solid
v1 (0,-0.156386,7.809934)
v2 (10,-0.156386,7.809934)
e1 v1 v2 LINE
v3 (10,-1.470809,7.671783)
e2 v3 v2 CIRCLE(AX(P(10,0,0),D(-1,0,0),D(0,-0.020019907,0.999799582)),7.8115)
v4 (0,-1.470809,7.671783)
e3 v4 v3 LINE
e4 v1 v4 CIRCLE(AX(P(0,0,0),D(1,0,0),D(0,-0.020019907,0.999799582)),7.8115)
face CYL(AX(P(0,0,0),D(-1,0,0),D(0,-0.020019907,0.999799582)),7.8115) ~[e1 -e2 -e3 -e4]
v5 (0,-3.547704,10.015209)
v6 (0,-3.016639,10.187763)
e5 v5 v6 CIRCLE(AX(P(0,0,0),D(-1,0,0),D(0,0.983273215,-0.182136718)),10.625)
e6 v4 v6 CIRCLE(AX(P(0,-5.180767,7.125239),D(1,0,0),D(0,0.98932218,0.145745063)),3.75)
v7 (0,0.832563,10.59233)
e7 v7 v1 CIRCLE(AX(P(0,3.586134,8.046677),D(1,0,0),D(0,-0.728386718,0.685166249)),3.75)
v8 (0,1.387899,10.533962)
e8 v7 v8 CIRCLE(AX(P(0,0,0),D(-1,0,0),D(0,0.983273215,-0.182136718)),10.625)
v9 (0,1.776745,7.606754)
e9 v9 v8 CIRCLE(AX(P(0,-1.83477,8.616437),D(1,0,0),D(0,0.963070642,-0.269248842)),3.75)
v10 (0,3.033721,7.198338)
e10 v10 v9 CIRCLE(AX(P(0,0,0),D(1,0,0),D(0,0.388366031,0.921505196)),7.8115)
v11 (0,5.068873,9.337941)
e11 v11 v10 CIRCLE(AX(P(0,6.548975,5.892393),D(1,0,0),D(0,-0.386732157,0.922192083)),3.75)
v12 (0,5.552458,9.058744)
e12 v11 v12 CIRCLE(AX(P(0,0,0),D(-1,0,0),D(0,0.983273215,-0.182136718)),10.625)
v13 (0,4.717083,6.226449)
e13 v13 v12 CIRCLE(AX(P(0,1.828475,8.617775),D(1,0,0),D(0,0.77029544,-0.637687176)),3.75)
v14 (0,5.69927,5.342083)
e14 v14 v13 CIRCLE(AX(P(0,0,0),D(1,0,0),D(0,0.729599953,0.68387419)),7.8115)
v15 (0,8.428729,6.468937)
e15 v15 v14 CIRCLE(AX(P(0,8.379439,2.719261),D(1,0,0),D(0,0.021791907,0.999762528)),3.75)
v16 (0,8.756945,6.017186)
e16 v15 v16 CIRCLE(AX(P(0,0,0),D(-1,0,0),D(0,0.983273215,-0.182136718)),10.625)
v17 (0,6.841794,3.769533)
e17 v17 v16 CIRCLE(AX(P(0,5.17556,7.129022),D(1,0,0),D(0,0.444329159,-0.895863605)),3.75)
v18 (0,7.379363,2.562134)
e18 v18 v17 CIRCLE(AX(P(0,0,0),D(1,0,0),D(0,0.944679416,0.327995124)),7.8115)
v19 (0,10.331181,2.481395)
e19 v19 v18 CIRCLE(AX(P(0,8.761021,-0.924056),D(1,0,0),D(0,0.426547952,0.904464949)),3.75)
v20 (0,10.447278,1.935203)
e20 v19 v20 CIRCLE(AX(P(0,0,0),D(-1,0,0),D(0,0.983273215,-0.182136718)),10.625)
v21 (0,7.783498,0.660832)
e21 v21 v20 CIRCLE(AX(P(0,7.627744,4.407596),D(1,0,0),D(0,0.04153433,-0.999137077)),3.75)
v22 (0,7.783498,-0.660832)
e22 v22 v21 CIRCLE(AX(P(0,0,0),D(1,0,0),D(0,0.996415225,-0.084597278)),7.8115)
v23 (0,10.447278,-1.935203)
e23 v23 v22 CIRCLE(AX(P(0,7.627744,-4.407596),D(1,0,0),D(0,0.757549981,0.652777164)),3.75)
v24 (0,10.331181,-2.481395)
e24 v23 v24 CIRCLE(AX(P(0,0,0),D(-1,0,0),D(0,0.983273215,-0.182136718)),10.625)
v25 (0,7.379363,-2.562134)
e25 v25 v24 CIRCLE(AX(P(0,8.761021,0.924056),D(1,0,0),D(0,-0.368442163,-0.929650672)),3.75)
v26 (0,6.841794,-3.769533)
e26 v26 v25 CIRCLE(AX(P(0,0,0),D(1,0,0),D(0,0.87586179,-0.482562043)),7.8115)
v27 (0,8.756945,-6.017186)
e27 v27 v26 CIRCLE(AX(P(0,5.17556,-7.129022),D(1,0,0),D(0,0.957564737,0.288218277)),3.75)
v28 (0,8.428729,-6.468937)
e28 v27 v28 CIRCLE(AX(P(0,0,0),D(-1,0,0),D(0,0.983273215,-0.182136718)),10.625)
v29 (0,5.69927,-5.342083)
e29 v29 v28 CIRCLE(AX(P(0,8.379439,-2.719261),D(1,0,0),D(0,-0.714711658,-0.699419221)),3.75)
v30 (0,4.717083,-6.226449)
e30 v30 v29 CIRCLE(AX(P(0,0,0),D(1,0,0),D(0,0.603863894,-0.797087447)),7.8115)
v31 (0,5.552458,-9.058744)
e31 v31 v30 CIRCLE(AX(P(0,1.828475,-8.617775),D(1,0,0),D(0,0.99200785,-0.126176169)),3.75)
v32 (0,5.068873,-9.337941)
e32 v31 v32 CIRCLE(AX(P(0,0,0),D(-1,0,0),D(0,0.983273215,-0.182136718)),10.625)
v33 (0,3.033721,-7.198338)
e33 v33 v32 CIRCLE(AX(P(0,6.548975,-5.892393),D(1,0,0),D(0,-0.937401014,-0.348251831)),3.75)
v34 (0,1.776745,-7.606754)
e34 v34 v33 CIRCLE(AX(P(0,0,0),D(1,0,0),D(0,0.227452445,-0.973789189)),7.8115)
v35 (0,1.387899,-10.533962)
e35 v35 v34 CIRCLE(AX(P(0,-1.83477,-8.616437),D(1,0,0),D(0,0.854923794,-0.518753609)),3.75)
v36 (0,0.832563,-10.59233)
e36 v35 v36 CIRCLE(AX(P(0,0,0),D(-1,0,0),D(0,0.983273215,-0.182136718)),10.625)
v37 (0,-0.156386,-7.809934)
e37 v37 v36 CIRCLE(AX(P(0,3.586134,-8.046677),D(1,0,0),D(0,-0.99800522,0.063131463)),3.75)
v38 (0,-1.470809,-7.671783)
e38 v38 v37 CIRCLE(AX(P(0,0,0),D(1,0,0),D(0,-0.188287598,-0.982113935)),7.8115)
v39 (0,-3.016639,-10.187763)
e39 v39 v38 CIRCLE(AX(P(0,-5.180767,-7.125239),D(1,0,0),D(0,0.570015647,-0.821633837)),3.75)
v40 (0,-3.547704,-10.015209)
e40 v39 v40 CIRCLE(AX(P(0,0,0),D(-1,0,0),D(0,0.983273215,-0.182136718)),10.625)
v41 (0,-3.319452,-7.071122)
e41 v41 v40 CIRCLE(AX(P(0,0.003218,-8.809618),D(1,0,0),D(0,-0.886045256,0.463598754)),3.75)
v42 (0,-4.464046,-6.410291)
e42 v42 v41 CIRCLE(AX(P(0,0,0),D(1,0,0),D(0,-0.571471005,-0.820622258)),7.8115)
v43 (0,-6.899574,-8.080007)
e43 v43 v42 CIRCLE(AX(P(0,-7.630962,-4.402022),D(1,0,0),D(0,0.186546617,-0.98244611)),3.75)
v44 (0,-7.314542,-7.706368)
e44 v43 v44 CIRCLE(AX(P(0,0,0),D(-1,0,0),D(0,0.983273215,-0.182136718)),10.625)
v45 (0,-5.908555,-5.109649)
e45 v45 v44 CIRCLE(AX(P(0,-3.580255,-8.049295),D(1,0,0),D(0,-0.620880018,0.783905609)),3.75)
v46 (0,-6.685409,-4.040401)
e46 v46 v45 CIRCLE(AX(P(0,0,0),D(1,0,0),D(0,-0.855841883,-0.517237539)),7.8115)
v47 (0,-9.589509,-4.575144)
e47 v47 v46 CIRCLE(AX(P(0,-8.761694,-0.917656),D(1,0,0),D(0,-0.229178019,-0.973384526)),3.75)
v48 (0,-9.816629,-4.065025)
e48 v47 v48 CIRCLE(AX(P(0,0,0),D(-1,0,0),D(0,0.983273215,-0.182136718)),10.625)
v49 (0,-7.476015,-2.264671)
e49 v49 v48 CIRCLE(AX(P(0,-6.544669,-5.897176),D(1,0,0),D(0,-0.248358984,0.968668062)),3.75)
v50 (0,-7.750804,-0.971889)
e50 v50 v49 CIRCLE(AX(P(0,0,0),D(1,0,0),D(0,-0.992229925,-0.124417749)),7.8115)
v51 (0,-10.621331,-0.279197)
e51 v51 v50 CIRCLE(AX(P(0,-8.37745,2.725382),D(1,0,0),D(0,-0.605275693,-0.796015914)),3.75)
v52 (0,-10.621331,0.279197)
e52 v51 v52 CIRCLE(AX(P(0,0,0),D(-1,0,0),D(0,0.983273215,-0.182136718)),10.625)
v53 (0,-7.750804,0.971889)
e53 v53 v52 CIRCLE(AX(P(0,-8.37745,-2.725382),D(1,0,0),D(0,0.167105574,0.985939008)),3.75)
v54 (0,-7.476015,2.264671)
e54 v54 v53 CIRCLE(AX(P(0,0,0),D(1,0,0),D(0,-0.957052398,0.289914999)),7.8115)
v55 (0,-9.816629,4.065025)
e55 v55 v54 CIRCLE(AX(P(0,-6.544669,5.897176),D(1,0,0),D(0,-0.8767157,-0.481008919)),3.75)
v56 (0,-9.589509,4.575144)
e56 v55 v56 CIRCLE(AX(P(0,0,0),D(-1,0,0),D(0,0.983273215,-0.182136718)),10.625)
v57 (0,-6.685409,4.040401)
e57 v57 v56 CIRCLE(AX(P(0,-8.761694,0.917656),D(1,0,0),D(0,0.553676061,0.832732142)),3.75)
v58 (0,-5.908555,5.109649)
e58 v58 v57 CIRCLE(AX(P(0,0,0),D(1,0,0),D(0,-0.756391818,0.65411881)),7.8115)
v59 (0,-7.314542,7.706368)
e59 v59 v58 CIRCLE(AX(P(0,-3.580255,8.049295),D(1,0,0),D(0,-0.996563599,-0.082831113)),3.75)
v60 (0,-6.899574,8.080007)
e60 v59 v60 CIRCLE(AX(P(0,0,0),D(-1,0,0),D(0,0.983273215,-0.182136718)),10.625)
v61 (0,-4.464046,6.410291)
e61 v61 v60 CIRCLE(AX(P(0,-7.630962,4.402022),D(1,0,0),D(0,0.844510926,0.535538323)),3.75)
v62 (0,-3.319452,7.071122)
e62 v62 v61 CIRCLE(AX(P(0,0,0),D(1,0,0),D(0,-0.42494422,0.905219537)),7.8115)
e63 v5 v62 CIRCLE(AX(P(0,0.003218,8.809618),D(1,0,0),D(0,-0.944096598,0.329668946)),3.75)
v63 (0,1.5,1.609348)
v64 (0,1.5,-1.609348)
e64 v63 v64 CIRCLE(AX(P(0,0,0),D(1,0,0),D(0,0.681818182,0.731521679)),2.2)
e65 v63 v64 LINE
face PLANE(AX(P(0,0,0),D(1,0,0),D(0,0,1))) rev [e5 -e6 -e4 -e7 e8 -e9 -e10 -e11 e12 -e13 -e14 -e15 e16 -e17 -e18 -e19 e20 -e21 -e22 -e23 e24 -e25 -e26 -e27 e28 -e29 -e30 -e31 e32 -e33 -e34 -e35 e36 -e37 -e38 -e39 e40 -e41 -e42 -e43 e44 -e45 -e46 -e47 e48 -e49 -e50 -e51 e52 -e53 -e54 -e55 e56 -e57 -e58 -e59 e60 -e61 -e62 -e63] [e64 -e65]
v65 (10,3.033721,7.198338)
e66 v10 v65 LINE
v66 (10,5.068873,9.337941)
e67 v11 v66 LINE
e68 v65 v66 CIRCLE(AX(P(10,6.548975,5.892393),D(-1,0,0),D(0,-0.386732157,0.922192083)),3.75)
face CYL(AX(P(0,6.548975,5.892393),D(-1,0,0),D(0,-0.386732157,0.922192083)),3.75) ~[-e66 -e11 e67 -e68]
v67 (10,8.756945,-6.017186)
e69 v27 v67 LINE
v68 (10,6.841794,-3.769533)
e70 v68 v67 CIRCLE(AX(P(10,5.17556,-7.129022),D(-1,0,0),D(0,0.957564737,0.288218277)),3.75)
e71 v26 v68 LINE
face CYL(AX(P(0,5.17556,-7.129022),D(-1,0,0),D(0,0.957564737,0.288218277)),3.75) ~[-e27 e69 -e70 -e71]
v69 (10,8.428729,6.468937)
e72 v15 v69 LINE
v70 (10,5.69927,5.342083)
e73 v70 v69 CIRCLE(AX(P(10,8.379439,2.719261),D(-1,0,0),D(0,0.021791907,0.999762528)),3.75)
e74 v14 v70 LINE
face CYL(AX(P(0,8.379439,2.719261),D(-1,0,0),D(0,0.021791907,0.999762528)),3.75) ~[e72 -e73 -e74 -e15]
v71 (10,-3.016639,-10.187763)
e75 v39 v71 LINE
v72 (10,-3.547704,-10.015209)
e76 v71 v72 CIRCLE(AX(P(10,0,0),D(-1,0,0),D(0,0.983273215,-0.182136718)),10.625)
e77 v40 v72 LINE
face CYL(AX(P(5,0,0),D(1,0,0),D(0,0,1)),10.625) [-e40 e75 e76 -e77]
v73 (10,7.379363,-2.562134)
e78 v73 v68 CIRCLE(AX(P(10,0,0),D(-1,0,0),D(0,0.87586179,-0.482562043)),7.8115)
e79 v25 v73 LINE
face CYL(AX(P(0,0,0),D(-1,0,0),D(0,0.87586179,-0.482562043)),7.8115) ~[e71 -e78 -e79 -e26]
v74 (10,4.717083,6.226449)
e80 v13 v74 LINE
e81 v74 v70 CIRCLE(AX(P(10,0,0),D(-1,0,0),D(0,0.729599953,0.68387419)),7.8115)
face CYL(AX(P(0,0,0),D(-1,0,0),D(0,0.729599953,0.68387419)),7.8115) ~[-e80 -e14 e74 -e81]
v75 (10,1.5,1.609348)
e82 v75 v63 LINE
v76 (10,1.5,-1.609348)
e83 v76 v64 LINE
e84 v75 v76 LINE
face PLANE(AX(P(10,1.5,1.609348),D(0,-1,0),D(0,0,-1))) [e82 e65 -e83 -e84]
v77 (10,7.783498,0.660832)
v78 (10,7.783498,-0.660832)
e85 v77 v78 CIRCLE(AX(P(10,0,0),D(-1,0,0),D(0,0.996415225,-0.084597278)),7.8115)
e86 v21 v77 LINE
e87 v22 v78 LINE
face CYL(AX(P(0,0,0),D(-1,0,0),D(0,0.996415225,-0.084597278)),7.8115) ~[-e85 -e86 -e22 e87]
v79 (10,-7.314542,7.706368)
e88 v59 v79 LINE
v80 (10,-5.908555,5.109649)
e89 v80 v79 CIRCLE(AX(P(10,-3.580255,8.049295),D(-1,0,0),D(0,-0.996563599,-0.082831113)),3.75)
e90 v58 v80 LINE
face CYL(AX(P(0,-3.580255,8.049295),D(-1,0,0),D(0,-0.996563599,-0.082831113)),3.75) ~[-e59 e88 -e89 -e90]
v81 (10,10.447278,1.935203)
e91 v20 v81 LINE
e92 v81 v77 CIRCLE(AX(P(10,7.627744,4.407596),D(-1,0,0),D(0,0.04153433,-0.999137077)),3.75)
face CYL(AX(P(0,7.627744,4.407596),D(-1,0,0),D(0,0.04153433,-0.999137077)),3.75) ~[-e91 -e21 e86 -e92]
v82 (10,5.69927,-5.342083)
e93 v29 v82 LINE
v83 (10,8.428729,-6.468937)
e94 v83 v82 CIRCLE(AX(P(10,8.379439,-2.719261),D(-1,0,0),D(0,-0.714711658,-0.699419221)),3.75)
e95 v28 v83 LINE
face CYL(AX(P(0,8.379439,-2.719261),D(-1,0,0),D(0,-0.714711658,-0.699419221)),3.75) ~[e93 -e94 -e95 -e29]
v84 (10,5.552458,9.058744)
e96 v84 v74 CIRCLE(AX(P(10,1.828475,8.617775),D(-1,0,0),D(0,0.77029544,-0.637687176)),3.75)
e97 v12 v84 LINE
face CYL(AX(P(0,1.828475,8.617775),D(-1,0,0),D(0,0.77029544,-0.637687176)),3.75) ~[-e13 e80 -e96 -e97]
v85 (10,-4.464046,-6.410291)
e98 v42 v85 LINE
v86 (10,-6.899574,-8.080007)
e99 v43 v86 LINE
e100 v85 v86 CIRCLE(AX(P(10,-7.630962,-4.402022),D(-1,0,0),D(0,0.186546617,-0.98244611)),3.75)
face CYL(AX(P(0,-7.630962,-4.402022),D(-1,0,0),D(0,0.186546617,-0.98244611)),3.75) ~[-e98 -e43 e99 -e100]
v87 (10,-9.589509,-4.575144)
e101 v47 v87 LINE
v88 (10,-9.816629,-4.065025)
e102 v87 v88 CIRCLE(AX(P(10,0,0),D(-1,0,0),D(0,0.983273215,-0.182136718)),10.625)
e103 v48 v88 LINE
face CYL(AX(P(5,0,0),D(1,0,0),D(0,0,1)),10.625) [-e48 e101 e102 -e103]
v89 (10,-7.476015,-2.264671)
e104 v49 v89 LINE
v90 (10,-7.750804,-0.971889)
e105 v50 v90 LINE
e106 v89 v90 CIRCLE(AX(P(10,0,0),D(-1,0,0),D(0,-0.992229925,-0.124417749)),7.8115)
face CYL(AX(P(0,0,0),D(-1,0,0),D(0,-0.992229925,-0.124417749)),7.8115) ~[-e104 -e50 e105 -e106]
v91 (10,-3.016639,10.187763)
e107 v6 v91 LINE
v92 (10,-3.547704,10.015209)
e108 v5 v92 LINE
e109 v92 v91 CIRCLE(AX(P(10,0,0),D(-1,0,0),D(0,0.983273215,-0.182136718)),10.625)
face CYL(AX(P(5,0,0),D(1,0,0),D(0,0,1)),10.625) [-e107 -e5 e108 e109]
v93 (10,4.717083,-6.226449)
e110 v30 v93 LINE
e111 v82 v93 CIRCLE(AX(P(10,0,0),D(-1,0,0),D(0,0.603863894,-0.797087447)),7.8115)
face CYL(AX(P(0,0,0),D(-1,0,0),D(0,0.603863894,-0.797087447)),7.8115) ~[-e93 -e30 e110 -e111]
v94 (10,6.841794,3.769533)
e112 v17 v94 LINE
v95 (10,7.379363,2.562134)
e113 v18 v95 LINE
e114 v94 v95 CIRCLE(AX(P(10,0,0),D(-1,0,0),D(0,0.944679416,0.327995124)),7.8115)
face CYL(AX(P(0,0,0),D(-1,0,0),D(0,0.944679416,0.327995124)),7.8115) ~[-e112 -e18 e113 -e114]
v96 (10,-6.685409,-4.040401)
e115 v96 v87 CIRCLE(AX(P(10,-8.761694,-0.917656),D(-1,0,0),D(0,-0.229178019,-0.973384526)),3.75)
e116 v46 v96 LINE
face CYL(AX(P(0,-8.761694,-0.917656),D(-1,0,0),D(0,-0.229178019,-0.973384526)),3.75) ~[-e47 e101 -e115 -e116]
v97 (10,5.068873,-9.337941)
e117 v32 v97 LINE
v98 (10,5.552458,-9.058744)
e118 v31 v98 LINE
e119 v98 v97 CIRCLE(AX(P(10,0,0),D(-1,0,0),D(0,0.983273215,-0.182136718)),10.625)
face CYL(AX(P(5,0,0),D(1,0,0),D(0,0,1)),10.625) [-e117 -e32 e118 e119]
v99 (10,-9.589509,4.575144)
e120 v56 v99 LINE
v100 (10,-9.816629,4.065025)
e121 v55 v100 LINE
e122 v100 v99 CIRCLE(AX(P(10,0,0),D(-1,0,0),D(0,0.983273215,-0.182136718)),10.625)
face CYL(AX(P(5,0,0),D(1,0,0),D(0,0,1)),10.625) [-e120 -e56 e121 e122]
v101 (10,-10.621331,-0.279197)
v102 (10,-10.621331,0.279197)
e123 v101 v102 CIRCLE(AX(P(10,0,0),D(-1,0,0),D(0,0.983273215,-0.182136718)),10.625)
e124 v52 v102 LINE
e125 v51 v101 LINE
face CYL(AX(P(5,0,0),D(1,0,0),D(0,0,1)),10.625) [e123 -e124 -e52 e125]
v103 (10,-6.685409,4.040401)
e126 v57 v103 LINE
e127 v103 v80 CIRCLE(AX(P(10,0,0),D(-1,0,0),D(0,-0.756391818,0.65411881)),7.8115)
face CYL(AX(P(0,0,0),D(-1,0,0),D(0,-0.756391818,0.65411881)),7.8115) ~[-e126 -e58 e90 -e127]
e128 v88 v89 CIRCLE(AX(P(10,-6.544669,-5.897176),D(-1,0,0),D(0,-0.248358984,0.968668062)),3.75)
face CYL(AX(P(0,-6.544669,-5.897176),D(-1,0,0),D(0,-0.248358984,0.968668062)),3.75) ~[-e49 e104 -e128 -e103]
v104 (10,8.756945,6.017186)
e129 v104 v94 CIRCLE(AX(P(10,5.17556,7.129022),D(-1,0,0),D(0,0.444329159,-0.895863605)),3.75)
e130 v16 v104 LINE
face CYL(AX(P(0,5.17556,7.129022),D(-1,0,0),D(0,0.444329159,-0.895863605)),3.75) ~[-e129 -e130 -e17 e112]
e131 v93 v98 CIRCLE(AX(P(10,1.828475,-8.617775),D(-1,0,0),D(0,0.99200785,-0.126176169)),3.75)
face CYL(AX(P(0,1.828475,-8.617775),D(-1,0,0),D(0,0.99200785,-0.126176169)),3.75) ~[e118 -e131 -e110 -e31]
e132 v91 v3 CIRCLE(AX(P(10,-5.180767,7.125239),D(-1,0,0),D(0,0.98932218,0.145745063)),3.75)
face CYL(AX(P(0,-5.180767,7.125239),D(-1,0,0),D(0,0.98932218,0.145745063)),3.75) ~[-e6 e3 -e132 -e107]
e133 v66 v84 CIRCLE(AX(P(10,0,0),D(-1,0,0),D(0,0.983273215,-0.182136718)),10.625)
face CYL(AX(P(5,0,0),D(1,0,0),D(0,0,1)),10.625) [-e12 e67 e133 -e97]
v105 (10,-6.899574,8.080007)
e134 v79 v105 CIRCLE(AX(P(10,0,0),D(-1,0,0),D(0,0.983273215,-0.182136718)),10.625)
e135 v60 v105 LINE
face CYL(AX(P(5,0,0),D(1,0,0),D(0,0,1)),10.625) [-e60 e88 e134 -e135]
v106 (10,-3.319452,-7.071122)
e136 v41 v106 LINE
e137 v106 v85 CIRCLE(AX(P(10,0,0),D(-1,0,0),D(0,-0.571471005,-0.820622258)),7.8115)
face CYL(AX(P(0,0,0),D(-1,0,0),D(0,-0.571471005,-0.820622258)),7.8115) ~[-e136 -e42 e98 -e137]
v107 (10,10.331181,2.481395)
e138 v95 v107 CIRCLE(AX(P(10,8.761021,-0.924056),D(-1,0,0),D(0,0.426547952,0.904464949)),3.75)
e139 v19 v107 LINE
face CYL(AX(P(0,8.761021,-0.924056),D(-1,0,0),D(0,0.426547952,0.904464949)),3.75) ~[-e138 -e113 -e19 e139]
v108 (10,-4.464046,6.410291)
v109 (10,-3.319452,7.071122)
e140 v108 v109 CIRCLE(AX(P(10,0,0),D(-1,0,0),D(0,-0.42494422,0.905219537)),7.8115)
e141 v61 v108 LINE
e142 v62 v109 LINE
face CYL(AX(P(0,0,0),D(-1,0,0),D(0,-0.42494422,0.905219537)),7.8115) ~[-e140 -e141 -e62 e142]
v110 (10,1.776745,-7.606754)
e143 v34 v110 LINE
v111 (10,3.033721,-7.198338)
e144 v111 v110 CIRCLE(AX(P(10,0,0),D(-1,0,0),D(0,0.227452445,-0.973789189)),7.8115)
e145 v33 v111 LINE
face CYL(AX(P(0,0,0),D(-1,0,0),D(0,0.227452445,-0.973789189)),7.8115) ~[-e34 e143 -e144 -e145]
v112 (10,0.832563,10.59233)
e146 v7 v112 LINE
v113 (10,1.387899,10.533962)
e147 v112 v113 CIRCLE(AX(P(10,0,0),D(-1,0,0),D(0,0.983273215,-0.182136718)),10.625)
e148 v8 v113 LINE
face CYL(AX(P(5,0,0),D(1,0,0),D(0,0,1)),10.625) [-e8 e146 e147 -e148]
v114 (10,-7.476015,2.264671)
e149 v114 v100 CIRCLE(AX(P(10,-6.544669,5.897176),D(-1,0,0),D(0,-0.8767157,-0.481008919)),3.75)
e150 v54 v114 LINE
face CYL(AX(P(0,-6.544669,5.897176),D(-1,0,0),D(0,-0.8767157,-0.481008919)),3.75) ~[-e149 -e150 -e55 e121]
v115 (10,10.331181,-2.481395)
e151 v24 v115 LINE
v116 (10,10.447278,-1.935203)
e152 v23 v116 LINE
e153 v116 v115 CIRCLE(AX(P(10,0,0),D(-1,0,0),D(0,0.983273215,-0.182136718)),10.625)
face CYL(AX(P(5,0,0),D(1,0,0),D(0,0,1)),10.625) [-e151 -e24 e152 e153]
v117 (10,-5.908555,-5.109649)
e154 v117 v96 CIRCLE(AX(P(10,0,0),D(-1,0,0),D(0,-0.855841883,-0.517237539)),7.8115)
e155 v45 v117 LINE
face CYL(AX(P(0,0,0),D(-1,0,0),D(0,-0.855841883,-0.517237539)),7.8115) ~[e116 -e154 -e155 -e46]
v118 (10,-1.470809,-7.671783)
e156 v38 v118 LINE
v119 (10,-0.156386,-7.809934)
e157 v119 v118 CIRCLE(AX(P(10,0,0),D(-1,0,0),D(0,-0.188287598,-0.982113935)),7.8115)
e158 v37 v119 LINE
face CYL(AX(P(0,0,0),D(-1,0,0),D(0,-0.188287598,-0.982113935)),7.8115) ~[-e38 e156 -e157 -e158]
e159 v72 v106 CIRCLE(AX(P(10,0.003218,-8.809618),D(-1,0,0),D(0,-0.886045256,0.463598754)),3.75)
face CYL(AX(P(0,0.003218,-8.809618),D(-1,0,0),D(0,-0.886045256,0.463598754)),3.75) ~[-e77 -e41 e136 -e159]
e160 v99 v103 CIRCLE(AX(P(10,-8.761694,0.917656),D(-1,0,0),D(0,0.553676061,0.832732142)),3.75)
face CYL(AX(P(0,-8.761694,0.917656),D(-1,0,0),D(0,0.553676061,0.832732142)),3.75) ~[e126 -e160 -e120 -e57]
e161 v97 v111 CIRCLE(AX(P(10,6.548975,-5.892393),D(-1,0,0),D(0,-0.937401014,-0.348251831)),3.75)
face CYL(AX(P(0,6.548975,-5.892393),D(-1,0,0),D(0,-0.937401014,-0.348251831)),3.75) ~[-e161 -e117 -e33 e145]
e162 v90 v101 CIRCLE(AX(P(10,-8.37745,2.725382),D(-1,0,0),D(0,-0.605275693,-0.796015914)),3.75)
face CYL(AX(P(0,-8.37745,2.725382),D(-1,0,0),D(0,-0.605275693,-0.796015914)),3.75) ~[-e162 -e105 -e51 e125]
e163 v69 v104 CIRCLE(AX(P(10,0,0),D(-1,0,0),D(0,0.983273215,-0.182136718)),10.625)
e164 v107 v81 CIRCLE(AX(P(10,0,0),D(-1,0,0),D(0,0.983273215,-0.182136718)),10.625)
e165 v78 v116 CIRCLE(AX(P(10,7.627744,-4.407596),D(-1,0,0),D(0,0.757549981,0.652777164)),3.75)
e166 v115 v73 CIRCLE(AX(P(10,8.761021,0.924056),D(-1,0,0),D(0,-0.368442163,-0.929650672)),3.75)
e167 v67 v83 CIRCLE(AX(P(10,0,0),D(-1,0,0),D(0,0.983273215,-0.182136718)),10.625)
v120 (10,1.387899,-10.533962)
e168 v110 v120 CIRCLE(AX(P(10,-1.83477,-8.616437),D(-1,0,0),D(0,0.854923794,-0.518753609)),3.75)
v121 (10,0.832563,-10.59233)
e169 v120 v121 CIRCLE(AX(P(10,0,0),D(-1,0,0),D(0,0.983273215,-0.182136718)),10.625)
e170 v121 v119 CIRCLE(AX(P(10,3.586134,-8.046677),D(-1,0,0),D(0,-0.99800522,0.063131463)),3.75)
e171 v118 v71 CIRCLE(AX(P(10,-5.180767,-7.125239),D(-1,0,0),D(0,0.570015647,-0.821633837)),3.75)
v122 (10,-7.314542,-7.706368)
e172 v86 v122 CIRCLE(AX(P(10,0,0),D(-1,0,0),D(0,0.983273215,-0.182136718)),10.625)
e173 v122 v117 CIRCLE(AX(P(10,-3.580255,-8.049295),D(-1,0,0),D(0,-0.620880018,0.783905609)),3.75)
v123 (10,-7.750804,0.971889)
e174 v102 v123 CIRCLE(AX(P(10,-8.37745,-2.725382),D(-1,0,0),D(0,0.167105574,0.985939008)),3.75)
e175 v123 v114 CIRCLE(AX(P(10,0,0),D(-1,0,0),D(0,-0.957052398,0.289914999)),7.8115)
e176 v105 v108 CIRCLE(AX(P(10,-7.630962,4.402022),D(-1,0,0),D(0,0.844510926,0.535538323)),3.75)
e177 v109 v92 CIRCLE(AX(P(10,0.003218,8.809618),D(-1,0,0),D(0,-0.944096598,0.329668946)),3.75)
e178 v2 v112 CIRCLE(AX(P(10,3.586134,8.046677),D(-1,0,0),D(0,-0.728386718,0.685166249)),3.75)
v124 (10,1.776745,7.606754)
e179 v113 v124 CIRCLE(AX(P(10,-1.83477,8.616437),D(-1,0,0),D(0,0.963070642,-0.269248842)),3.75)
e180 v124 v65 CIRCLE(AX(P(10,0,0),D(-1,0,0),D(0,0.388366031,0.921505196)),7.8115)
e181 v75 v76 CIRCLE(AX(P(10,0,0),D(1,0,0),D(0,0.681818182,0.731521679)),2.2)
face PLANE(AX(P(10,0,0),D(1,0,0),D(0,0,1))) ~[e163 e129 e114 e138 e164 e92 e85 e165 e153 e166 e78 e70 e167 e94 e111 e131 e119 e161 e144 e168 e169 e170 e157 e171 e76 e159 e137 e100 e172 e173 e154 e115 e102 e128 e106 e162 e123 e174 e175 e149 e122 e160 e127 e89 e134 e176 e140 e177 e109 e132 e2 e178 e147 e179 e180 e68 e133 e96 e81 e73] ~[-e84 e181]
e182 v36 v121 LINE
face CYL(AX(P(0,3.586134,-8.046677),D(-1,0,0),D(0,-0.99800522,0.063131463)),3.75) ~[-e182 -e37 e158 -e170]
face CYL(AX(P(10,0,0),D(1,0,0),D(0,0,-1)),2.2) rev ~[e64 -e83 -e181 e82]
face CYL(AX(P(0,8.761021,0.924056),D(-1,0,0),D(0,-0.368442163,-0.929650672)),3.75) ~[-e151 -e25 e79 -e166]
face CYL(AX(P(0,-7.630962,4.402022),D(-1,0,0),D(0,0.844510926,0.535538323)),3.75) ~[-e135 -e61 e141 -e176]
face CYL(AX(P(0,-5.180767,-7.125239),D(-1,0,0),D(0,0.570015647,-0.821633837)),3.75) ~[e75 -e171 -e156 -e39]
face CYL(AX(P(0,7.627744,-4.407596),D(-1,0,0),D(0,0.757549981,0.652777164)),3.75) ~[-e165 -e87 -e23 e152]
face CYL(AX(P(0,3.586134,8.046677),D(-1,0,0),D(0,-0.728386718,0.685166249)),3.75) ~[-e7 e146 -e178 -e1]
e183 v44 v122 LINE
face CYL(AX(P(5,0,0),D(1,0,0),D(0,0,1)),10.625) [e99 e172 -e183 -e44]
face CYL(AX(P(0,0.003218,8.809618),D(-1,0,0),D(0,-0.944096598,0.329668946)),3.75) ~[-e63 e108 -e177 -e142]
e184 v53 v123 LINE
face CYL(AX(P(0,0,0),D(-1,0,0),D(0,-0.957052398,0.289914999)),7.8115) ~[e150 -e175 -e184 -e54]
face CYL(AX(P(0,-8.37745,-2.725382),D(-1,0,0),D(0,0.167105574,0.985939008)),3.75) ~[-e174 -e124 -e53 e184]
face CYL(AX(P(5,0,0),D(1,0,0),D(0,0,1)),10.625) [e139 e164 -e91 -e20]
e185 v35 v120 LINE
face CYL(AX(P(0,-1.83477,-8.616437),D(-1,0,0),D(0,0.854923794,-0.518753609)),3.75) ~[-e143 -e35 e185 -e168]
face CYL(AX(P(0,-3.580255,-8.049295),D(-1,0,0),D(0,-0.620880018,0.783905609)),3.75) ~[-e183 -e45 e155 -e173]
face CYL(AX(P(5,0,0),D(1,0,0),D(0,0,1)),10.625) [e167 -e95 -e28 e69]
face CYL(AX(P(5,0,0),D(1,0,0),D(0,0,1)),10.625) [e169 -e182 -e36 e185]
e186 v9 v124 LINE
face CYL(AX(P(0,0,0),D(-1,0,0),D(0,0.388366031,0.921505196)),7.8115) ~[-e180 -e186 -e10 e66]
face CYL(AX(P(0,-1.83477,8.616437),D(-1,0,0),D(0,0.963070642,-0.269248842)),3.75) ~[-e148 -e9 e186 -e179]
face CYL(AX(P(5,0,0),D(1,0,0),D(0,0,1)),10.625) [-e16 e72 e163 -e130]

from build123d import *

# Parameters (mm, degrees)
BASPROSKE_W         = 10
BASPROSKE_H         = 10.625
TOOTHCUT_DEPTH      = 19.049411348
TEETHCUTS_COUNT     = 15
TEETHCUTS_ANGLE     = 336
BORSKE_R            = 2
BORE_DEPTH          = 50.0000508
SKETCH1_R           = 2.2
CUT_EXTRUDE2_DEPTH  = 10
BOSS_EXTRUDE1_DEPTH = 10


with BuildPart() as part:
    # BasProSke → Base-Revolve (revolve)
    with BuildSketch(Plane(origin=(0, 0, 0), x_dir=(1, 0, 0), z_dir=(0, 1, 0)), mode=Mode.PRIVATE) as base_revolve_sk:
        with Locations((5, 5.3125)):
            Rectangle(BASPROSKE_W, BASPROSKE_H)
    revolve(base_revolve_sk.sketch.rotate(Axis((-10, 0, 0), (1, 0, 0)), 180), axis=Axis((-10, 0, 0), (1, 0, 0)))

    # TooCutSke → ToothCut (cut, through all)
    with BuildSketch(Plane(origin=(0, 0, 0), x_dir=(0, 0, -1), z_dir=(1, 0, 0))):
        with BuildLine():
            ThreePointArc((0.660831632, 7.78349753), (0, 7.8115), (-0.660831632, 7.78349753))
            ThreePointArc((-0.660831632, 7.78349753), (-1.031814994, 9.260718016), (-1.959681305, 10.46855622))
            ThreePointArc((-1.959681305, 10.46855622), (0, 10.6504), (1.959681305, 10.46855622))
            ThreePointArc((1.959681305, 10.46855622), (1.031814994, 9.260718016), (0.660831632, 7.78349753))
        make_face()
    toothcut = extrude(amount=TOOTHCUT_DEPTH, mode=Mode.SUBTRACT)

    # TeethCuts: ToothCut ×15 about axis
    teethcuts_axis = Axis((-10, 0, 0), (1, 0, 0))
    for i in range(1, TEETHCUTS_COUNT):
        add(toothcut.rotate(teethcuts_axis, i * TEETHCUTS_ANGLE / (TEETHCUTS_COUNT - 1)), mode=Mode.SUBTRACT)

    # BorSke → Bore (cut, symmetric)
    with BuildSketch(Plane(origin=(0, 0, 0), x_dir=(0, 0, -1), z_dir=(1, 0, 0))):
        with Locations(Location((0, 0, 0), (0, 0, 180))):
            Circle(BORSKE_R)
    extrude(amount=BORE_DEPTH, both=True, mode=Mode.SUBTRACT)

    # Sketch1 → Cut-Extrude2 (cut)
    with BuildSketch(Plane(origin=(10, 0, 0), x_dir=(0, 0, -1), z_dir=(1, 0, 0))):
        Circle(SKETCH1_R)
    extrude(amount=-CUT_EXTRUDE2_DEPTH, mode=Mode.SUBTRACT)

    # Sketch4 → Boss-Extrude1 (add)
    with BuildSketch(Plane(origin=(10, 0, 0), x_dir=(0, 0, -1), z_dir=(1, 0, 0))):
        with BuildLine():
            ThreePointArc((1.609347694, 1.5), (0, 2.2), (-1.609347694, 1.5))
            Line((-1.609347694, 1.5), (1.609347694, 1.5))
        make_face()
    extrude(amount=-BOSS_EXTRUDE1_DEPTH)


solid = part.part
